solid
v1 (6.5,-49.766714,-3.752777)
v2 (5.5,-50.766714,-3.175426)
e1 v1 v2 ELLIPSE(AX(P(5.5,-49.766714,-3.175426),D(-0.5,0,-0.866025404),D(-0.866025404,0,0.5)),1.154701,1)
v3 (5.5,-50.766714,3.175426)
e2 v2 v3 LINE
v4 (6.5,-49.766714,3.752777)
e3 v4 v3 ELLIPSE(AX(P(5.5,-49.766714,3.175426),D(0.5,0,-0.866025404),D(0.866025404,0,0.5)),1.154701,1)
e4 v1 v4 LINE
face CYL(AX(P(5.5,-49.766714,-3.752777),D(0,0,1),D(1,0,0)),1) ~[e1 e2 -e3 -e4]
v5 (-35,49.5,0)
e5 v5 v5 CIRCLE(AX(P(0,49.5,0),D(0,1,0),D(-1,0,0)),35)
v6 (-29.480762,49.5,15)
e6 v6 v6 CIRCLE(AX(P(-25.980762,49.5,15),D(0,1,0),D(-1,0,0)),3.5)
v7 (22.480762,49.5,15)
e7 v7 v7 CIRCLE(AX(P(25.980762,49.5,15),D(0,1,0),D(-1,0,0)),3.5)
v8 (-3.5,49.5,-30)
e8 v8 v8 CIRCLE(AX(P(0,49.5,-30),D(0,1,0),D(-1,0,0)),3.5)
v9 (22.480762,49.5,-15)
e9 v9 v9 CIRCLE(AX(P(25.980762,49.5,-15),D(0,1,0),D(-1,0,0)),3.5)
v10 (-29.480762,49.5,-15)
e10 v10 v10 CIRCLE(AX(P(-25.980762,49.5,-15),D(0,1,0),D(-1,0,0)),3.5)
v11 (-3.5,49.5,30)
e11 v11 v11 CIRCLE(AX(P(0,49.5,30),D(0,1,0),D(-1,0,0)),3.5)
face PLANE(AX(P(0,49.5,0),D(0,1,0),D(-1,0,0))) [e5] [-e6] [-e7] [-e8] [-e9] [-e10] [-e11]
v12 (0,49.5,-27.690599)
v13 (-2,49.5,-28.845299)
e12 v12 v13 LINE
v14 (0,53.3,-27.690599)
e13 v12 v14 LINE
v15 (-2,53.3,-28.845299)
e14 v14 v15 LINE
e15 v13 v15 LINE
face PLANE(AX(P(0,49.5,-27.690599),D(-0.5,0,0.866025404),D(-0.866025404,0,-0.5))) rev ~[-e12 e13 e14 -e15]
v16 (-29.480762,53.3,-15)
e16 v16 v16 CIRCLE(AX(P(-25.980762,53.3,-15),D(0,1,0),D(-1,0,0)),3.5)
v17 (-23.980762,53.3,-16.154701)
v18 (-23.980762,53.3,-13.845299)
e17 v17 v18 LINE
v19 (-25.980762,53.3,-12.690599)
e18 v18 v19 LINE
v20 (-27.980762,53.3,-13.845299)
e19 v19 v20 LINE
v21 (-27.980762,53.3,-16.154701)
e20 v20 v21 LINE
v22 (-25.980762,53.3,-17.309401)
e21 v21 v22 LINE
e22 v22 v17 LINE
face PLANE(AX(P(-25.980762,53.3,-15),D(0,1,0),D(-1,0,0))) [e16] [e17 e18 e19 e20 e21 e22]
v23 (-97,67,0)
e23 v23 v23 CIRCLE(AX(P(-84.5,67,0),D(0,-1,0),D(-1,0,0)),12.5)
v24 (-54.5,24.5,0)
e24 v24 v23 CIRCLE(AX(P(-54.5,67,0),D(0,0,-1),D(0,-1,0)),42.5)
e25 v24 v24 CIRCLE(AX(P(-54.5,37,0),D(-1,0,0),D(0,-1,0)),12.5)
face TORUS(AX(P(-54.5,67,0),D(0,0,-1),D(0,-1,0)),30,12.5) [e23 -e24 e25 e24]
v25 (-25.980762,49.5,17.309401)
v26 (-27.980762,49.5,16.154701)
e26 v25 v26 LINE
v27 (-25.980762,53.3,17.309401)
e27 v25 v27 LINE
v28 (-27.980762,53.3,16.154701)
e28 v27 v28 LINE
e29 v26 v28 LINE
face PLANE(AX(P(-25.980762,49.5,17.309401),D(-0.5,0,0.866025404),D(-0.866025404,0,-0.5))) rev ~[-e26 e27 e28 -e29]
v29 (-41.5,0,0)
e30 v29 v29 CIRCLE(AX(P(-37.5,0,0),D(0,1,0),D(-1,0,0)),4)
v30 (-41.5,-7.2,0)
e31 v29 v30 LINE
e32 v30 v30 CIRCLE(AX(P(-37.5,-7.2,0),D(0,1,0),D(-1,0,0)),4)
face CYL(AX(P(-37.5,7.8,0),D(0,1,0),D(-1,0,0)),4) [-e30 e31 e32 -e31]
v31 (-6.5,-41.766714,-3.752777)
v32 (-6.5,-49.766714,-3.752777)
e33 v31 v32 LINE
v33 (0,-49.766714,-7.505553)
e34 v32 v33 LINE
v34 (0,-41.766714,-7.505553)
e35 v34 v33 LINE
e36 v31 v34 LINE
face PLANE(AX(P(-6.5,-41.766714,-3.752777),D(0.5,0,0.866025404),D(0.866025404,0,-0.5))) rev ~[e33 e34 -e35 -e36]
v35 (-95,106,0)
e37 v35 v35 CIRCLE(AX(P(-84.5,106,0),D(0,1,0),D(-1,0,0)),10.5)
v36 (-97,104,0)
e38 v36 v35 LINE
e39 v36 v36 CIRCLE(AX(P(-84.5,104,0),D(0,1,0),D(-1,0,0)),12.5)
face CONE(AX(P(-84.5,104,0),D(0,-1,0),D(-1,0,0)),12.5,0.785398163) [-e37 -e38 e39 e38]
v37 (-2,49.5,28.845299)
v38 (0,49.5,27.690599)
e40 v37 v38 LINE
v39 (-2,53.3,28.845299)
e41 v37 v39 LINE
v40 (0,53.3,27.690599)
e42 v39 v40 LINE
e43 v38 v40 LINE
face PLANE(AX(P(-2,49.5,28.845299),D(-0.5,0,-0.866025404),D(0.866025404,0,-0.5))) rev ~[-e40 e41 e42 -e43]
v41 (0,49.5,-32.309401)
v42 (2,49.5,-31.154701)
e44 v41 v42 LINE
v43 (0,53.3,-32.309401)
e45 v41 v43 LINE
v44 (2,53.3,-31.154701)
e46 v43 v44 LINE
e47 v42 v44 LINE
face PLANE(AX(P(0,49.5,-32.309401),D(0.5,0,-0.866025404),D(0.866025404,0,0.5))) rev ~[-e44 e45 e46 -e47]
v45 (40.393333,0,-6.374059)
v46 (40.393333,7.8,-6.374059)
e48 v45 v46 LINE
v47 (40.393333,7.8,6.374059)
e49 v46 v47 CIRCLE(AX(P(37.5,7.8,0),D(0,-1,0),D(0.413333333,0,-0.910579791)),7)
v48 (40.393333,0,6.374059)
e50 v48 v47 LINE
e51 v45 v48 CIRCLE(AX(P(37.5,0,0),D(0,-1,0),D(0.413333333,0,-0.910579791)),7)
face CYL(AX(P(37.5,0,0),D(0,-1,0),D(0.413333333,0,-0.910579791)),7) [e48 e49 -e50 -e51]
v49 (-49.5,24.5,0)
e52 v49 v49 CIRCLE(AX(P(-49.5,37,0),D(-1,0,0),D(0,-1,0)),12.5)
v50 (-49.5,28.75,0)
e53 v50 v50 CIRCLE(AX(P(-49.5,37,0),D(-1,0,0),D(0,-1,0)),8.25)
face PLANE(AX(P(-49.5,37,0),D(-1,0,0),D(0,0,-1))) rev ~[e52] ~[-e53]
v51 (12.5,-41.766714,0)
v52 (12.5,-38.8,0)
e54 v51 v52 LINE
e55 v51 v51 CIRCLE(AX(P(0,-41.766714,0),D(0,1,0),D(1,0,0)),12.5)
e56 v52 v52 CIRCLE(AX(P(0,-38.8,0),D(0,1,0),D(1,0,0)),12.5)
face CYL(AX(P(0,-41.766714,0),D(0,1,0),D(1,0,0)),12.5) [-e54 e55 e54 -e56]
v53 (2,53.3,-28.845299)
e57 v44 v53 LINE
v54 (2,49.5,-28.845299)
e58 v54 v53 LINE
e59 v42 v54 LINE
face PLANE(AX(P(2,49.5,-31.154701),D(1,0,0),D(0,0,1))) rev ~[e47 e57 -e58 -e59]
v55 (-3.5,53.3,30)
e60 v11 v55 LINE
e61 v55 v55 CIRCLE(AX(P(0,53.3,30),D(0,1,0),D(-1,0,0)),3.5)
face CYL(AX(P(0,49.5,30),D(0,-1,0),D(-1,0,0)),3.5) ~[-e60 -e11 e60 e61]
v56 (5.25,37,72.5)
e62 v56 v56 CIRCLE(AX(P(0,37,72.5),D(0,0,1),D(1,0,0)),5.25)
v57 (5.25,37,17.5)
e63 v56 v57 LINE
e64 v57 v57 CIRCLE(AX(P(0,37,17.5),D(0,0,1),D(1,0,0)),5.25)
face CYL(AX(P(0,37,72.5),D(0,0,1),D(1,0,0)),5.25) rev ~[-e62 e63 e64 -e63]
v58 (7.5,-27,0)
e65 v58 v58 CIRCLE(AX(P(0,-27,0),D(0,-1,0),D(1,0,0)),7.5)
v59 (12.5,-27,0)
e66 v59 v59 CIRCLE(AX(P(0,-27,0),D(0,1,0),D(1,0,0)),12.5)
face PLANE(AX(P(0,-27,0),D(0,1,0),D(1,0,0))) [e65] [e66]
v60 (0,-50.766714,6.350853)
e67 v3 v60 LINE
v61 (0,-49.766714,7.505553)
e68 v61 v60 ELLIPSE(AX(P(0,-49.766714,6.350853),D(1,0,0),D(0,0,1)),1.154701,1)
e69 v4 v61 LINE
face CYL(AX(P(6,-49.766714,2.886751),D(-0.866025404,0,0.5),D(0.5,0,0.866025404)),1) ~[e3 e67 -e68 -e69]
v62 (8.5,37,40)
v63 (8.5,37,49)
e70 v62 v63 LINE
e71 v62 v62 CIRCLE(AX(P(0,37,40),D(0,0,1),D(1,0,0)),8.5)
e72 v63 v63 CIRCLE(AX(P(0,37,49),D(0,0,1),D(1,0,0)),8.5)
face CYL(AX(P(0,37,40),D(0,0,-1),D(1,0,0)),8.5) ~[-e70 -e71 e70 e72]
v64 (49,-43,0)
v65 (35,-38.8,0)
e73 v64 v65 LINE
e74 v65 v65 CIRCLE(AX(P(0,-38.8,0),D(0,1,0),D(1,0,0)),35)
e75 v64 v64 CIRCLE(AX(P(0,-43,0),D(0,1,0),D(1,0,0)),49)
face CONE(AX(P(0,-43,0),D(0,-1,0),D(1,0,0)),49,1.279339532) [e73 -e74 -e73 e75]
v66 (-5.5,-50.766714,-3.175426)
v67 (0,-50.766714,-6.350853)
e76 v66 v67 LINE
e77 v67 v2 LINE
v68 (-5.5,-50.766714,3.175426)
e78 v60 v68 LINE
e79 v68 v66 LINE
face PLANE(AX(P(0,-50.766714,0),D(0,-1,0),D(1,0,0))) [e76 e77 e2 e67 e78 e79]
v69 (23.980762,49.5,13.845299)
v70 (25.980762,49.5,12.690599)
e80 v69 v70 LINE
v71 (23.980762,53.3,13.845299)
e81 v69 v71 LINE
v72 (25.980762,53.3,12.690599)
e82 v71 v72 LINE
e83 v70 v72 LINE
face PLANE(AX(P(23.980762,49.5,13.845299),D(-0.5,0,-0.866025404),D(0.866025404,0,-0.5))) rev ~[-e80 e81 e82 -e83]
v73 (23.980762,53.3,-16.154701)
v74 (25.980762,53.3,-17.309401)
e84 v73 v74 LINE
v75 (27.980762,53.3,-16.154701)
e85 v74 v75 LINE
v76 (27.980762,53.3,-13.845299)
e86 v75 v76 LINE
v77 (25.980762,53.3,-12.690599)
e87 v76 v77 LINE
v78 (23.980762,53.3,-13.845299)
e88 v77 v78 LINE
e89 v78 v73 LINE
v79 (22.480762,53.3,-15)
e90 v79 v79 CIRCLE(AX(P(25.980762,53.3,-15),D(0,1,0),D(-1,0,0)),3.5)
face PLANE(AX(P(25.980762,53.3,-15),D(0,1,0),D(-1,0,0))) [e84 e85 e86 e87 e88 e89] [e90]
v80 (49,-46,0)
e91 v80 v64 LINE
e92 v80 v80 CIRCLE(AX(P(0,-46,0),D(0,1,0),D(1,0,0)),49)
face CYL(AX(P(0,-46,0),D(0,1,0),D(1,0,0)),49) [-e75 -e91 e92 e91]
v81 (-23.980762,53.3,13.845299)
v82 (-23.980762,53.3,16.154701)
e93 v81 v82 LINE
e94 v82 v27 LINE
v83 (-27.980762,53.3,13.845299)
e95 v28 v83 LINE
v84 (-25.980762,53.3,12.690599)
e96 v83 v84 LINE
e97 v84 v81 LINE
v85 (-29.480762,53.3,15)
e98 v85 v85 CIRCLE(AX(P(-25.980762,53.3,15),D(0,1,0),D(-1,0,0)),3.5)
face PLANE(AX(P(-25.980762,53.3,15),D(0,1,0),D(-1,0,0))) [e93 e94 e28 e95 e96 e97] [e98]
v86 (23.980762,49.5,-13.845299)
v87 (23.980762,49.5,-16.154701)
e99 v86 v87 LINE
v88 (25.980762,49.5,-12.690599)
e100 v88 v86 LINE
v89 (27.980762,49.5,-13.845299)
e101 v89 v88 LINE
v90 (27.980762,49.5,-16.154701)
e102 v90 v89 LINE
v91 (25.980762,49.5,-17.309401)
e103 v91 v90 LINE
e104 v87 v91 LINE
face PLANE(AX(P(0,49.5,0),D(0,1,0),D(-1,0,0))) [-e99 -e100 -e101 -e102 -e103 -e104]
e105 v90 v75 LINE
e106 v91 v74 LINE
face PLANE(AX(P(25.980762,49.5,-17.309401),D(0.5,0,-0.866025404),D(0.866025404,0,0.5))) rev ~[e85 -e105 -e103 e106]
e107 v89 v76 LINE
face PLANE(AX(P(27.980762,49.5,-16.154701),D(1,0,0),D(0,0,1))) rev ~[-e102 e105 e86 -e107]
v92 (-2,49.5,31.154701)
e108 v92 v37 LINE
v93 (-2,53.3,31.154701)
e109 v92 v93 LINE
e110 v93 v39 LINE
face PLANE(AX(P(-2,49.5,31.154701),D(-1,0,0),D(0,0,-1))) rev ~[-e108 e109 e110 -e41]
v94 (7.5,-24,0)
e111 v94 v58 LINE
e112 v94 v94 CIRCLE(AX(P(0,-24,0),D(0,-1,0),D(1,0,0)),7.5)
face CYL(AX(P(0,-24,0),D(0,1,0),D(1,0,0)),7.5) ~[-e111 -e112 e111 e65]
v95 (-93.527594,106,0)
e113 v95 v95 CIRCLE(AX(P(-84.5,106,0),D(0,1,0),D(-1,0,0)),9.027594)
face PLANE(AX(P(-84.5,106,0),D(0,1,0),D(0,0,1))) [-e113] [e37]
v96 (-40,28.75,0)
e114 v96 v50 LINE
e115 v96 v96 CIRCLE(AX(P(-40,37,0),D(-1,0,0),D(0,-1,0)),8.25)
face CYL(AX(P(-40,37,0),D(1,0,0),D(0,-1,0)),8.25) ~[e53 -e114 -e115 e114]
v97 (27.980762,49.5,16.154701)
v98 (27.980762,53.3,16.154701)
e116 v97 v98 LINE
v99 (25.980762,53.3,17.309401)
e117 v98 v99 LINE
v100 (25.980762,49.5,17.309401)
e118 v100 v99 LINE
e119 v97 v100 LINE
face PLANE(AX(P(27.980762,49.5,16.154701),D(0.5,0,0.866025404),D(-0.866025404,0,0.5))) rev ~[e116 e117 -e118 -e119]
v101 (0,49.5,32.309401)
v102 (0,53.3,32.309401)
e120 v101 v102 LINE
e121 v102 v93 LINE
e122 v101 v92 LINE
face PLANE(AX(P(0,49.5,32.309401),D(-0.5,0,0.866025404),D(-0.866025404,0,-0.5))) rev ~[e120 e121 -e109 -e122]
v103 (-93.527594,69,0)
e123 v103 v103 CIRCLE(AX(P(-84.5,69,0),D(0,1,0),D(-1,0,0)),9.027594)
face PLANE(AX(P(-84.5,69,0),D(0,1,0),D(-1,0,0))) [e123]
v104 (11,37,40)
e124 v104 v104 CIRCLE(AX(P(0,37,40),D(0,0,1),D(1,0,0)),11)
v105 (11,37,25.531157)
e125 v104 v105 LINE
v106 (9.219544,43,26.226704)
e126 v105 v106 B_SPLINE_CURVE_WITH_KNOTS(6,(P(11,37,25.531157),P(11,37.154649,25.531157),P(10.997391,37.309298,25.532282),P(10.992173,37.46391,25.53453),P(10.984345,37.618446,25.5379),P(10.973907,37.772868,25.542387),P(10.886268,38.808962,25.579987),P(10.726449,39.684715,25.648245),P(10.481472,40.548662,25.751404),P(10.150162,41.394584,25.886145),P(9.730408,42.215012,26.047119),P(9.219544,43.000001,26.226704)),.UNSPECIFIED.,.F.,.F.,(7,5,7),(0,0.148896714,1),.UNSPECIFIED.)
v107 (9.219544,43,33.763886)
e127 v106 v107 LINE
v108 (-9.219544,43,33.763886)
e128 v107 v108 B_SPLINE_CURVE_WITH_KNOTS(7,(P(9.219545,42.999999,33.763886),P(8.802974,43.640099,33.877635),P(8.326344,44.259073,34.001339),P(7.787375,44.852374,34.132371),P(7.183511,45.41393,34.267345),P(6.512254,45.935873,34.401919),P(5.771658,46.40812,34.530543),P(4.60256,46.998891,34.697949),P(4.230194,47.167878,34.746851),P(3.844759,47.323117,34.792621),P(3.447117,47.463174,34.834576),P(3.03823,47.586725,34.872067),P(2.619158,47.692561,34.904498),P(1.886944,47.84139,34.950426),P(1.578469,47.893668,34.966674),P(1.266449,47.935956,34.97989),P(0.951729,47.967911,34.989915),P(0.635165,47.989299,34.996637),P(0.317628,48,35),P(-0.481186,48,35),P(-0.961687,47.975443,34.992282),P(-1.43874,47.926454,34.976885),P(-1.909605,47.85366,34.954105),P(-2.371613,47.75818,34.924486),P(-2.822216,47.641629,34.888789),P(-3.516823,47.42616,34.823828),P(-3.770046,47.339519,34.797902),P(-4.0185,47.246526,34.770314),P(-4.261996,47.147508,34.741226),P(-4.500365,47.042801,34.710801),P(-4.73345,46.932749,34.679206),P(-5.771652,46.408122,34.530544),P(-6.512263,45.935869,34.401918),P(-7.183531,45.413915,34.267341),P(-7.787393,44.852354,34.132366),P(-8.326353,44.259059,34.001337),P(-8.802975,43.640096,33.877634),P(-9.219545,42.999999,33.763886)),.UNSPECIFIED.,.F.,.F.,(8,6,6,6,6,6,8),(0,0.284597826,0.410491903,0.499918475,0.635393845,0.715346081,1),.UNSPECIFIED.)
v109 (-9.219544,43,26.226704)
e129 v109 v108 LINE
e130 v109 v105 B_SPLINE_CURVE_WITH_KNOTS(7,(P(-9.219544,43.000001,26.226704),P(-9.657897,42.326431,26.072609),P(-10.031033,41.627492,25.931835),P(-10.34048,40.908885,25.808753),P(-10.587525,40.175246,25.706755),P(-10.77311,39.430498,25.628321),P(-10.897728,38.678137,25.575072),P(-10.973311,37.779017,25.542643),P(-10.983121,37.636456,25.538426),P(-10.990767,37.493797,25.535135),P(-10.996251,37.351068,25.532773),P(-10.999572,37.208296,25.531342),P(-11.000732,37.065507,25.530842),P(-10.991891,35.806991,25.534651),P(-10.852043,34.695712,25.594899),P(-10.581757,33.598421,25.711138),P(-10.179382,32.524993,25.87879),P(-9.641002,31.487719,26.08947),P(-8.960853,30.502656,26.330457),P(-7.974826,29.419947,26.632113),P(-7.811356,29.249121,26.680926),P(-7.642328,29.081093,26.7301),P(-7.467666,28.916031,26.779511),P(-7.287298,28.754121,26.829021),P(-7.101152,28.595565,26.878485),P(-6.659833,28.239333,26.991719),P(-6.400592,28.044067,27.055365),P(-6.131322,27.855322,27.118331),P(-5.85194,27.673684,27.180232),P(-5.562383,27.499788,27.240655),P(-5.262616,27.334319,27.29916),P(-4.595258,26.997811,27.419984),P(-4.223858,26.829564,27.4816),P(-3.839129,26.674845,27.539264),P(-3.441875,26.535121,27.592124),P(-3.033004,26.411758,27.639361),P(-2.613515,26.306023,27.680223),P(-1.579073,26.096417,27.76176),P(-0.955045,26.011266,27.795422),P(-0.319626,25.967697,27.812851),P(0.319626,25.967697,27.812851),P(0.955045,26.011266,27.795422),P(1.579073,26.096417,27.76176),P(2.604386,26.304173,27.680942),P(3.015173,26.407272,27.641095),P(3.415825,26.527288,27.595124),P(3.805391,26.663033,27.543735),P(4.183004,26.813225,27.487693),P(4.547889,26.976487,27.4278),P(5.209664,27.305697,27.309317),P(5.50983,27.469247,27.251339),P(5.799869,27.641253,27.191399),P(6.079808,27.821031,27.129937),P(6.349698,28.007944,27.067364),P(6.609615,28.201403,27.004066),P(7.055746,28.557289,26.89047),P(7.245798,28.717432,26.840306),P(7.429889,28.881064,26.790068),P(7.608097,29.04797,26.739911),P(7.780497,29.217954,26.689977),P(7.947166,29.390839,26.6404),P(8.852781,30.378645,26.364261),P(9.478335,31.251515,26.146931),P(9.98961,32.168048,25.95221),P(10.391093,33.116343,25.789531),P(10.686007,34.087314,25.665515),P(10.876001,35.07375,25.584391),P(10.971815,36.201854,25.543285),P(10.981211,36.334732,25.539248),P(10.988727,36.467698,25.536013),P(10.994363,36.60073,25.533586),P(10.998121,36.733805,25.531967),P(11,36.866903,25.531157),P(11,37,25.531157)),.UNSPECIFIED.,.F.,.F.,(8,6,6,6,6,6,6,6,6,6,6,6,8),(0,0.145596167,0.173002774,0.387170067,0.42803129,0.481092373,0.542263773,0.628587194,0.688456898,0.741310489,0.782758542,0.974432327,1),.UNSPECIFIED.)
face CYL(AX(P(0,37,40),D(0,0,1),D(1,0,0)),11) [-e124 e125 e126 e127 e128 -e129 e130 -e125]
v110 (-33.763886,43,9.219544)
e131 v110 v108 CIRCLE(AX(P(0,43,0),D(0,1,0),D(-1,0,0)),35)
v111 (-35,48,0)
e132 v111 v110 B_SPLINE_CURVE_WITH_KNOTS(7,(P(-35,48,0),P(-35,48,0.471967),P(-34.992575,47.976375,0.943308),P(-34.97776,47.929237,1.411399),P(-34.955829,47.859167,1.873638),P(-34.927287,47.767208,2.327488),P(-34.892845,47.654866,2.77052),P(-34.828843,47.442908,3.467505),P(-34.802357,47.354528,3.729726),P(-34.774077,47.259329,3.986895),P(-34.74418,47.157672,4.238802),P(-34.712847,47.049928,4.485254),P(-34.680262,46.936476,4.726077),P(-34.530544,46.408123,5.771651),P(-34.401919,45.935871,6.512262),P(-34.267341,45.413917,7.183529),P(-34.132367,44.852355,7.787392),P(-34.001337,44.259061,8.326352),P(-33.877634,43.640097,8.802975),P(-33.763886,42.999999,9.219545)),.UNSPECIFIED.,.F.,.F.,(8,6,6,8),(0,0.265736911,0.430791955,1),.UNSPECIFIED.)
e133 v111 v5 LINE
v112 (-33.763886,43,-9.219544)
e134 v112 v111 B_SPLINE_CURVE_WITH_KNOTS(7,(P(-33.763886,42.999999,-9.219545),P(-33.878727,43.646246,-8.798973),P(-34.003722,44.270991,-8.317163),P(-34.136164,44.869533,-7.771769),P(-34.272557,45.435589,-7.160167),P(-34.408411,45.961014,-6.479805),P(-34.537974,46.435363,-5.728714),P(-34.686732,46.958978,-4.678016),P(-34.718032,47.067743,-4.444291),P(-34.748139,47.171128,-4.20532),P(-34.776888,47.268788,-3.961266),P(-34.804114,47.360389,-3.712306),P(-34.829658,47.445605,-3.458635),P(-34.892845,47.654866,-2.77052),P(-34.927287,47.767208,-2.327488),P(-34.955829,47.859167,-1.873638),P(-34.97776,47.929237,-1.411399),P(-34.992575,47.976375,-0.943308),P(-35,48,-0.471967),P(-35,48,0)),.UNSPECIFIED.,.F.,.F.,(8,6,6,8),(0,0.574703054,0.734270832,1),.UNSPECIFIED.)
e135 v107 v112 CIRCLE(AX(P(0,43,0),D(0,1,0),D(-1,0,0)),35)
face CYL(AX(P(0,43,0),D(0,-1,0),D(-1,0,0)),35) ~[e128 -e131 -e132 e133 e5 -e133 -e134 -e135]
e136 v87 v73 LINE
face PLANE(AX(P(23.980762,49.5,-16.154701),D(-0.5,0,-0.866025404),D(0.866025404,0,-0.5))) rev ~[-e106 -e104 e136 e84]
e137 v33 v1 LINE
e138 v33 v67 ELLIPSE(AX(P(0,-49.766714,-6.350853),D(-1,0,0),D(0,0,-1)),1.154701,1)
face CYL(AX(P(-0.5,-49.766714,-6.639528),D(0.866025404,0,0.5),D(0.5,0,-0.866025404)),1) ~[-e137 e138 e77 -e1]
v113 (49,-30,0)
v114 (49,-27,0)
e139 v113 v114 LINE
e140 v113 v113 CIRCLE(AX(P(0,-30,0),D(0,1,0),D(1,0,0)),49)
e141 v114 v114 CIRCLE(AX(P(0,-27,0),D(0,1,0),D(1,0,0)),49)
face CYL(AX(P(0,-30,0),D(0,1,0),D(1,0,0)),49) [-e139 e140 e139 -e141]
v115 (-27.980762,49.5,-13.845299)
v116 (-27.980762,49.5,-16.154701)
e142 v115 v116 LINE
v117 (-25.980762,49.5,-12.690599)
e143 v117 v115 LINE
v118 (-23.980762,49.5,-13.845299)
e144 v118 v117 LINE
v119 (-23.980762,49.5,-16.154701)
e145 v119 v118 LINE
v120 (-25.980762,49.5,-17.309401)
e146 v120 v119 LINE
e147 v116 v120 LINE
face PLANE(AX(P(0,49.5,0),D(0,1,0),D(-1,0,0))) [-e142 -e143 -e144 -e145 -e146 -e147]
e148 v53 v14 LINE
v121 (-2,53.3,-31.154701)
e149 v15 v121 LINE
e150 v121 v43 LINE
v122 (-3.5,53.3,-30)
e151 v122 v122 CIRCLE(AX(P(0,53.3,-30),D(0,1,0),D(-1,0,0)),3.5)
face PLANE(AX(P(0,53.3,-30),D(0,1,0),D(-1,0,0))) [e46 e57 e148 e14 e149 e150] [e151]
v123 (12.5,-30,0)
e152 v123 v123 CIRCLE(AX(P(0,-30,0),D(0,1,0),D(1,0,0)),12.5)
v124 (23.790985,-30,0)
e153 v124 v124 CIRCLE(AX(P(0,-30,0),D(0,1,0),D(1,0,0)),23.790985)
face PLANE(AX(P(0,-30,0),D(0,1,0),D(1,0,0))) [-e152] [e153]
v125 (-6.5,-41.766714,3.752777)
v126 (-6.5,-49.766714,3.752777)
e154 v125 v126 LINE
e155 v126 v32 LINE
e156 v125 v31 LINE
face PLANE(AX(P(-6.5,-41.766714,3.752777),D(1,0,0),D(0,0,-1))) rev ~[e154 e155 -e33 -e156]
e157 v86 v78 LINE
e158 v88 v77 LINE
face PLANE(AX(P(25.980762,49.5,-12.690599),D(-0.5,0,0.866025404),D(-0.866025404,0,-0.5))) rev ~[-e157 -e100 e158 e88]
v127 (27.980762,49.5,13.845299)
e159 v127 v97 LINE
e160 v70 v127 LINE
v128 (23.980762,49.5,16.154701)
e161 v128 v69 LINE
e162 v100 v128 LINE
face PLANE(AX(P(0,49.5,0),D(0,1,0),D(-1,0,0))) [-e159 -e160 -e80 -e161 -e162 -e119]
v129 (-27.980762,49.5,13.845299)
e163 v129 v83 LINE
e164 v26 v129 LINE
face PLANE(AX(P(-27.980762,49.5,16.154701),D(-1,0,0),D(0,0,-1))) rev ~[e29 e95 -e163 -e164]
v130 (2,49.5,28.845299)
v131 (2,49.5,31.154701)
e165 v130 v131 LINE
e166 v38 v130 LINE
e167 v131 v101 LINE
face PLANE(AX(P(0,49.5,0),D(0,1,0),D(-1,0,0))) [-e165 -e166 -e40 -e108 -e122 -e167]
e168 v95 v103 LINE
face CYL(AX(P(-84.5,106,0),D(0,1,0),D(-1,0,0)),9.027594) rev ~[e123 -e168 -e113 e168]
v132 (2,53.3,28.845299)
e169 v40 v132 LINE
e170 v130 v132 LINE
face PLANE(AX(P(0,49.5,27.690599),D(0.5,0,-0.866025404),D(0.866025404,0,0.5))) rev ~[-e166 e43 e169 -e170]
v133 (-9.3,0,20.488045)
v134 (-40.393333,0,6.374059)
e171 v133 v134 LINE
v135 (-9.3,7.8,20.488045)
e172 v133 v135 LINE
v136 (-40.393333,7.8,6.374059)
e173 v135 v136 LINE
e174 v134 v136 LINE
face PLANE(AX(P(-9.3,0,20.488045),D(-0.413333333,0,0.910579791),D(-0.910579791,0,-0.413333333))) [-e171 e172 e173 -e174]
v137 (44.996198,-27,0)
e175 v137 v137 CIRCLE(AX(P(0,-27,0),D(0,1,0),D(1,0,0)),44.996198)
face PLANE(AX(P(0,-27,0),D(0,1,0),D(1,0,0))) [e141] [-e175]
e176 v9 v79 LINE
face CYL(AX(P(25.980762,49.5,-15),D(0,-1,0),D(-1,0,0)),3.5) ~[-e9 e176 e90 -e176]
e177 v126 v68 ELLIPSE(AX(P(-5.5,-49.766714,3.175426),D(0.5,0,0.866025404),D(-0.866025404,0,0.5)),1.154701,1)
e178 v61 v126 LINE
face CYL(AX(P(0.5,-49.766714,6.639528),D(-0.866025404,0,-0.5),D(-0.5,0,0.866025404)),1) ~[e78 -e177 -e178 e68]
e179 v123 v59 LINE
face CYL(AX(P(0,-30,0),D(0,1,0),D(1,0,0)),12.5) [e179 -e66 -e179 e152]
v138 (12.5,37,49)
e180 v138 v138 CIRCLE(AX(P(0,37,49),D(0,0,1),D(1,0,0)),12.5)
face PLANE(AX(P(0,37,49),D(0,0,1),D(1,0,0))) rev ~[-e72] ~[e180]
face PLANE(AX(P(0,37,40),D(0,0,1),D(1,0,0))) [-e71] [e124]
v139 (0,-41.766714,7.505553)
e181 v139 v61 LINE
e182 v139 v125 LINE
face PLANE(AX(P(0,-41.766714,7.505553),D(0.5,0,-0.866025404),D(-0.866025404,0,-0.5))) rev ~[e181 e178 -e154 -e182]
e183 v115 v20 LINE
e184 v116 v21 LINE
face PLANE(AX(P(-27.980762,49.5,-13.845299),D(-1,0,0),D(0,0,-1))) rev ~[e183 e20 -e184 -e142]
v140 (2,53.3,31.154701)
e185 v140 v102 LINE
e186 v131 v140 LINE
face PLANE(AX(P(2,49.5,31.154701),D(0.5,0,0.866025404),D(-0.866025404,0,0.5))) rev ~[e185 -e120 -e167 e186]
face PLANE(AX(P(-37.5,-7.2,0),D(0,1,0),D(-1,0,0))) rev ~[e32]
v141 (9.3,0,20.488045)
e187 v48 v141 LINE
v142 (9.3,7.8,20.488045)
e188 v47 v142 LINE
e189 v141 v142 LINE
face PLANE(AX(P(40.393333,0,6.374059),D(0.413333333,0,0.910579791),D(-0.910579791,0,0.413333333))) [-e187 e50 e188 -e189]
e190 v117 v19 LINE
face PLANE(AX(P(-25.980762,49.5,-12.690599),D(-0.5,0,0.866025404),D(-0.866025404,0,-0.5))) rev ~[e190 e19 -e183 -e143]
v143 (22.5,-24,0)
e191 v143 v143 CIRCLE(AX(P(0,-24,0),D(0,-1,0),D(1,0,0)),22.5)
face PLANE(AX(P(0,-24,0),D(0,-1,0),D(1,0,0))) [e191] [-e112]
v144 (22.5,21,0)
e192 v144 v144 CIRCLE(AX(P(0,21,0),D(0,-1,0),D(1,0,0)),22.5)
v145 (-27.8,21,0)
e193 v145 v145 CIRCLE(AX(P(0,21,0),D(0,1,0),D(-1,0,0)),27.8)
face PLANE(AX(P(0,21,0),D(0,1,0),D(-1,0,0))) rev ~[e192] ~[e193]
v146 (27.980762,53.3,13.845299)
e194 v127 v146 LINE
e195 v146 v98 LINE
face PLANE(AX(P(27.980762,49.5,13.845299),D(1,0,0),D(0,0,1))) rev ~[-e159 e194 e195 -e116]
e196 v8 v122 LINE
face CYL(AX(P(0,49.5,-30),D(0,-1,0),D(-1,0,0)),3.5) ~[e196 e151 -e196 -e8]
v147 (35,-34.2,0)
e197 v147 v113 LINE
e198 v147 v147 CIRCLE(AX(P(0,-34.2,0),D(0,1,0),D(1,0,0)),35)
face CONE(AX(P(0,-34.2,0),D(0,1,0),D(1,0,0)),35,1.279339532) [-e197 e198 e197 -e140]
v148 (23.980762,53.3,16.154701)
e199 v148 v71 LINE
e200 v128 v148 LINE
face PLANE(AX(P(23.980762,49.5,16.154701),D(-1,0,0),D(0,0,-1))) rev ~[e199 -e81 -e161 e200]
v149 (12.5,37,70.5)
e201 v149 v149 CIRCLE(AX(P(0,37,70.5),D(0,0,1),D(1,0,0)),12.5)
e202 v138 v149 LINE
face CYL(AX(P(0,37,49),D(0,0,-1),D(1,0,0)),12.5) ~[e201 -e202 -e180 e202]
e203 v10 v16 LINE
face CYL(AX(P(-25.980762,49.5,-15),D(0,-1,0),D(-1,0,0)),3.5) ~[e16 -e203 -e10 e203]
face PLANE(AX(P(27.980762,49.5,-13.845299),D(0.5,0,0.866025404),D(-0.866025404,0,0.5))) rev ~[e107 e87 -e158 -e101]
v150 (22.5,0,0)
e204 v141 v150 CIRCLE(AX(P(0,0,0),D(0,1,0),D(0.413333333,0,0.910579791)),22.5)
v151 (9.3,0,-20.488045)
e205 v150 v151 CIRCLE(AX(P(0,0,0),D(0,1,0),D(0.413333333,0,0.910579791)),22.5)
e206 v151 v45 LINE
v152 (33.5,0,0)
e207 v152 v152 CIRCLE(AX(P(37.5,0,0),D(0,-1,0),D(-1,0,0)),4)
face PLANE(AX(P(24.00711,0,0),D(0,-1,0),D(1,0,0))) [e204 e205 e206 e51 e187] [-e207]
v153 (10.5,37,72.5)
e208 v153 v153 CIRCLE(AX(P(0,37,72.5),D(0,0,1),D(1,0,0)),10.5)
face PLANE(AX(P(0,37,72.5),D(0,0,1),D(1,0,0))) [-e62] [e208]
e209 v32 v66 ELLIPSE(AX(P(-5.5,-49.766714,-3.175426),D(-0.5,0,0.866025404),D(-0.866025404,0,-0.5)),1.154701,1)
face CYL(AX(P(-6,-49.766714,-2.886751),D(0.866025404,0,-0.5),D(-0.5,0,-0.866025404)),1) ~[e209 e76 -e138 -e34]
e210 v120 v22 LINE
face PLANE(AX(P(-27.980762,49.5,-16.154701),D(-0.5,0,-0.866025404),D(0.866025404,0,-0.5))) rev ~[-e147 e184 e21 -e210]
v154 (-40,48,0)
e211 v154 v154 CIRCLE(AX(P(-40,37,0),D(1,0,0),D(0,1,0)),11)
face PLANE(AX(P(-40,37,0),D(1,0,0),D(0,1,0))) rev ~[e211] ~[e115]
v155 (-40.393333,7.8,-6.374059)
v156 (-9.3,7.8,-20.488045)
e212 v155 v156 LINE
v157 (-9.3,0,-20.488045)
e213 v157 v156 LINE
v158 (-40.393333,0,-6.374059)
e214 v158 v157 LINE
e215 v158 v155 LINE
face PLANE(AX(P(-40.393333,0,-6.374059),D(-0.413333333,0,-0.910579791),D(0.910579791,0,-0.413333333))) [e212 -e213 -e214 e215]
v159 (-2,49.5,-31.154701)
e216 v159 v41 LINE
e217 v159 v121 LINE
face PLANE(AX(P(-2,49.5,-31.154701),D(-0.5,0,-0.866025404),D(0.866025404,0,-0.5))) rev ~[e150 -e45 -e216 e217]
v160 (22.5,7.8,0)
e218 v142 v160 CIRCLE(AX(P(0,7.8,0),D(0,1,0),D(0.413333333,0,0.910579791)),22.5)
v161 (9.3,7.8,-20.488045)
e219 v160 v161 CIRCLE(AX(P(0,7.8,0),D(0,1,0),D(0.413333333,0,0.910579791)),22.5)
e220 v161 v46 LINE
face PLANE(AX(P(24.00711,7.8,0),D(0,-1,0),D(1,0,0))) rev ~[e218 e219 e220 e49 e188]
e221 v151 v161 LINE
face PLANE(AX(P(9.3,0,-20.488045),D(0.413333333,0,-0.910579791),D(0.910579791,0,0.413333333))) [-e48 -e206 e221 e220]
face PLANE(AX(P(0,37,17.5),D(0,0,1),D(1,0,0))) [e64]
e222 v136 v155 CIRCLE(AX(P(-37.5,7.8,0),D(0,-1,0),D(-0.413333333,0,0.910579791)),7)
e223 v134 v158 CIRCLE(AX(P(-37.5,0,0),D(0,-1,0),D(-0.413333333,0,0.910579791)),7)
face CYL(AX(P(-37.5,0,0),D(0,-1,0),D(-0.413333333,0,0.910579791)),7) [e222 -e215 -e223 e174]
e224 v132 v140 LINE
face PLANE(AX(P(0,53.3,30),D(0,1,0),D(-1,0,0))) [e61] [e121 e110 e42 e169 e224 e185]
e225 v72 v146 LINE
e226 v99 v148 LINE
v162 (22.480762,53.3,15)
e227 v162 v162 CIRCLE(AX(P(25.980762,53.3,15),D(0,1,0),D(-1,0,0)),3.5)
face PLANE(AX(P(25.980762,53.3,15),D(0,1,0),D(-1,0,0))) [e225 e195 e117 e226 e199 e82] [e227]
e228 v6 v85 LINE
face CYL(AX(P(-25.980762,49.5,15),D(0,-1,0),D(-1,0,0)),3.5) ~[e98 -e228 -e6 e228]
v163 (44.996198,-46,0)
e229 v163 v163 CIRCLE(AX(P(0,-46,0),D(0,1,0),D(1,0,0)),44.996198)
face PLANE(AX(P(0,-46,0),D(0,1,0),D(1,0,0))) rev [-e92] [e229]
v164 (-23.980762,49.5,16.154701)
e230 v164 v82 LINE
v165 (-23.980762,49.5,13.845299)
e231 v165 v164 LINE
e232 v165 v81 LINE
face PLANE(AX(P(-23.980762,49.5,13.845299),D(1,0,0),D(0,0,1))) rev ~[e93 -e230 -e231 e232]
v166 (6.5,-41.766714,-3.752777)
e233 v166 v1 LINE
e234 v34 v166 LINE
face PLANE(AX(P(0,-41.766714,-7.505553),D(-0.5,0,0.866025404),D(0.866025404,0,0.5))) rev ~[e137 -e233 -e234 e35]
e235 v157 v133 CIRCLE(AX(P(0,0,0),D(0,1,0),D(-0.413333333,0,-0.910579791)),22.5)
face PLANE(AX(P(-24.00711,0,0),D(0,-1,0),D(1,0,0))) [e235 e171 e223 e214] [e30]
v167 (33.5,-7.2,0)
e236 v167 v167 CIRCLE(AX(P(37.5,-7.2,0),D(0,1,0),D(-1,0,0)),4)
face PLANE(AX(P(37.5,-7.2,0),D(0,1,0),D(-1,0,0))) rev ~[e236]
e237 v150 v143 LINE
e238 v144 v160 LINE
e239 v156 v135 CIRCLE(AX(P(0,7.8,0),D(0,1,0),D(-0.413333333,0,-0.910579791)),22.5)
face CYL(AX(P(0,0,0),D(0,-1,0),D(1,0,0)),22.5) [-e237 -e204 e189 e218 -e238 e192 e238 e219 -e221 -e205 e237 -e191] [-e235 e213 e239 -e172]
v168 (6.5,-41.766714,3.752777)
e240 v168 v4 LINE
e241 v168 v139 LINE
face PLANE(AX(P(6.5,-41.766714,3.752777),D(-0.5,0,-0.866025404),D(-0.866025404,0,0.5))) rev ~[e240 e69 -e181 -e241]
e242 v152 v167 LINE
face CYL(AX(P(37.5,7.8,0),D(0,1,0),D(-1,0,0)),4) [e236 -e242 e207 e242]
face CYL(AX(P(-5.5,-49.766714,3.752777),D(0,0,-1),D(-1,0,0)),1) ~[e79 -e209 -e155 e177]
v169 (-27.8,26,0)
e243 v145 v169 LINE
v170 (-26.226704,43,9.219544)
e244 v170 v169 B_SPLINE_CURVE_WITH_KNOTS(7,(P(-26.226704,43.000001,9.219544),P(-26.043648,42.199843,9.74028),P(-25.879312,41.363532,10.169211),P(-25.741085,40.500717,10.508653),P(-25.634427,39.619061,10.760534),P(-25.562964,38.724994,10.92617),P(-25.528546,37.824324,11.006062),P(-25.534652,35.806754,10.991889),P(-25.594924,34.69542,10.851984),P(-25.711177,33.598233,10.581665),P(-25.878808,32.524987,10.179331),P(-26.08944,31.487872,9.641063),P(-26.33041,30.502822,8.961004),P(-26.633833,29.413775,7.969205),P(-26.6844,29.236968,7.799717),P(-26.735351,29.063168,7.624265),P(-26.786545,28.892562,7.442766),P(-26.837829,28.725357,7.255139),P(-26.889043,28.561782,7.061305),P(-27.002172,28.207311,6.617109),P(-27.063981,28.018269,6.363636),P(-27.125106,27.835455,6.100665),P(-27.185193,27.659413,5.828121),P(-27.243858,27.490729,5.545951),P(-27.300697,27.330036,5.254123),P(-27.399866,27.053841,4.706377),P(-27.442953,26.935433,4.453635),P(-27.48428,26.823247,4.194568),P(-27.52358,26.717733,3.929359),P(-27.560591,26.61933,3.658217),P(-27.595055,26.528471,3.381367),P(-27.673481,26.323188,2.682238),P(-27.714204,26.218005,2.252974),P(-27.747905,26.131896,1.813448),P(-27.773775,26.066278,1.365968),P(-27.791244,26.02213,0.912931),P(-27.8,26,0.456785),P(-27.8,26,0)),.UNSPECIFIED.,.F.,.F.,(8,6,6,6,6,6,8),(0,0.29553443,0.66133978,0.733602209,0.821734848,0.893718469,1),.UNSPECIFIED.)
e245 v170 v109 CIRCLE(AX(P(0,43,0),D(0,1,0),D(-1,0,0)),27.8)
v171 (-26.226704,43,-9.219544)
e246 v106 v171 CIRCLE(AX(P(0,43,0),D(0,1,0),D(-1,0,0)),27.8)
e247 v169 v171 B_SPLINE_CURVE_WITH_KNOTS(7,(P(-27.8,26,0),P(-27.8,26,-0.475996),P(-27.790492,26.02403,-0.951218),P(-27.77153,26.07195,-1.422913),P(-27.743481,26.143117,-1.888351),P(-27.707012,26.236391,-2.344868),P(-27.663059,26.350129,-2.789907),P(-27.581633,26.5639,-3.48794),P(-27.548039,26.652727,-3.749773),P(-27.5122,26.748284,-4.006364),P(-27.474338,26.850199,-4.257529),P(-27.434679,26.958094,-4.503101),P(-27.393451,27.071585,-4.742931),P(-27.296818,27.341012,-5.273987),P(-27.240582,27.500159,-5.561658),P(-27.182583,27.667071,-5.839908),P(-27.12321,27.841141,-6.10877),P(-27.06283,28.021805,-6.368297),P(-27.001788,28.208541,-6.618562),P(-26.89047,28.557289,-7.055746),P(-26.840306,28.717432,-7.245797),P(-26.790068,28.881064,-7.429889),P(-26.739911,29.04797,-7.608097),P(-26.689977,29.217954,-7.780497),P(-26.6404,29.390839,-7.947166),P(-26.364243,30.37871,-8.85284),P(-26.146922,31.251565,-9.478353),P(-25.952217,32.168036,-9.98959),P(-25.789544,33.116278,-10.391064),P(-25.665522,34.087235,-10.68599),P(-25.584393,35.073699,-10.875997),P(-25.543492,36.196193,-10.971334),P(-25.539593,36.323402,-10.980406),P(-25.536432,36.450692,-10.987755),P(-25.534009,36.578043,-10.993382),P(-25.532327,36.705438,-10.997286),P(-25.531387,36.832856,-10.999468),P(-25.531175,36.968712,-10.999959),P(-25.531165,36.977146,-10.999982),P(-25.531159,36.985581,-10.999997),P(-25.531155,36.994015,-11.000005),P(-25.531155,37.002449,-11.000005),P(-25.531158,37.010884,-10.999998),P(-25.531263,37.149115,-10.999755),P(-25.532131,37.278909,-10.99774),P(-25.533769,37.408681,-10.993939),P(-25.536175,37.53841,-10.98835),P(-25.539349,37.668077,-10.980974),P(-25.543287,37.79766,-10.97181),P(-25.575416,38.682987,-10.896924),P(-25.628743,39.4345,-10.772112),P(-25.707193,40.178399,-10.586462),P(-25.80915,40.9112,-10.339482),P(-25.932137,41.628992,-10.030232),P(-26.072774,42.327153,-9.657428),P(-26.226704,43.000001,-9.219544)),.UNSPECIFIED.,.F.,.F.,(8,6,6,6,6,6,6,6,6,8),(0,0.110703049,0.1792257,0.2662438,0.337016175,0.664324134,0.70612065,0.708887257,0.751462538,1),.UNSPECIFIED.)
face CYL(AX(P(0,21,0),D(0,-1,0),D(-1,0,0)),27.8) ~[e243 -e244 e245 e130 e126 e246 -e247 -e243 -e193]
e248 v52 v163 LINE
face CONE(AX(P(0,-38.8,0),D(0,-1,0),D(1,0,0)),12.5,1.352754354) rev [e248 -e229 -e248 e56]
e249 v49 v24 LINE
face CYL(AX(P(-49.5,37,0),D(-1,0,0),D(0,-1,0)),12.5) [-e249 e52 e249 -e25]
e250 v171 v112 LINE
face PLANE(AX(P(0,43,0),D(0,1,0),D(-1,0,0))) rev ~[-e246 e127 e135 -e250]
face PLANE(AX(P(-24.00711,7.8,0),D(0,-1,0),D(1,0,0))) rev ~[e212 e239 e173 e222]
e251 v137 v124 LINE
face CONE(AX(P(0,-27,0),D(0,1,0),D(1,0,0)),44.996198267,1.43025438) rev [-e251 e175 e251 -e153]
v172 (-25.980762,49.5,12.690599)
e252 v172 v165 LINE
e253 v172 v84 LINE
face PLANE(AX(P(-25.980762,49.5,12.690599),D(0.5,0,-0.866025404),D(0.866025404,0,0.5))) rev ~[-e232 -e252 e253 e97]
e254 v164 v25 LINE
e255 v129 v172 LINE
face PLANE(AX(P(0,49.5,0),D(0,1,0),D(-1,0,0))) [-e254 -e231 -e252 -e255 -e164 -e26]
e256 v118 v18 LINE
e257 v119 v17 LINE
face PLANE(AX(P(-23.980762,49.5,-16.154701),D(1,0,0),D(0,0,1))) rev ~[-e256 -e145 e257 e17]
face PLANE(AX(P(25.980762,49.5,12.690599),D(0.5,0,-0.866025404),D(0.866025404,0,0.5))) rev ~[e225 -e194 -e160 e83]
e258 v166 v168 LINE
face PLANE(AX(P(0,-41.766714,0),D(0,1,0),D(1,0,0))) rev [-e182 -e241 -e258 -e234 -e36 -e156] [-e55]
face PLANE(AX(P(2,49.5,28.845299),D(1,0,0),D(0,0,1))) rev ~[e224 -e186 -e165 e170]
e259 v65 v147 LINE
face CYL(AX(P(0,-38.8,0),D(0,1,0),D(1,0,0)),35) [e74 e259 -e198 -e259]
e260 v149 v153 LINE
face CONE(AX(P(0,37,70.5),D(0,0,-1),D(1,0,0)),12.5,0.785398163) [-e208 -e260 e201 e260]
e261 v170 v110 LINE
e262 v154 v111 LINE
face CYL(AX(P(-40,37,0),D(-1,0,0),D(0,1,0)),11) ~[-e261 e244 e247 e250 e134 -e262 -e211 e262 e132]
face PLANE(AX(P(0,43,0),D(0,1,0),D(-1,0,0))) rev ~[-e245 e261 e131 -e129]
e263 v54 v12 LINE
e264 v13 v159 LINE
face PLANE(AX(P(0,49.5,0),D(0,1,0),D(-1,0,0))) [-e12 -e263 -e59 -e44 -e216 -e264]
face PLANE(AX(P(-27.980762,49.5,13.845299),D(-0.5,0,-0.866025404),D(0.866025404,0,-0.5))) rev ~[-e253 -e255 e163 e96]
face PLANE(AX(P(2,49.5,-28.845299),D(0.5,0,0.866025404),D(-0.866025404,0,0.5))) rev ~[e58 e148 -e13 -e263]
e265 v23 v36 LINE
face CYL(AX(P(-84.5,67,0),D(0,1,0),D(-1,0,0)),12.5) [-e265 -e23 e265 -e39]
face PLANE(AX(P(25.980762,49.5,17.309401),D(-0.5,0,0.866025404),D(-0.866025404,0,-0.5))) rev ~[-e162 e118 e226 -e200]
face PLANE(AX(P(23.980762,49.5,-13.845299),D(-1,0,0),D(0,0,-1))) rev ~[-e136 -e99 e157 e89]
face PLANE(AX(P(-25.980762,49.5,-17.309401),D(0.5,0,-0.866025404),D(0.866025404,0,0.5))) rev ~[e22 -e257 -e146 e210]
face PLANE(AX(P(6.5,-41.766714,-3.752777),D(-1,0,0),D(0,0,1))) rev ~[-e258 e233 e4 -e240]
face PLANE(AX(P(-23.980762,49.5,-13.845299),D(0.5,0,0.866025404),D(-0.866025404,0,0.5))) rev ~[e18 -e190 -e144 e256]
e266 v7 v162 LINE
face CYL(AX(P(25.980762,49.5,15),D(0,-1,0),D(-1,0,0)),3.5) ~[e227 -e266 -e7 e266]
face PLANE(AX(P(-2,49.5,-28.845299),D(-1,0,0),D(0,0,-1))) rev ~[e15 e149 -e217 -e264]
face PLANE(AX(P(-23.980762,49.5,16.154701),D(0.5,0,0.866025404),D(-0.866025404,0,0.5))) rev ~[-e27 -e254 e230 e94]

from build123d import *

# Parameters (mm, degrees)
F0_R      = 22.5
F1_DEPTH  = 24
F2_DEPTH  = 21
F3_R      = 4
F4_DEPTH  = 7.8
F5_R      = 7.5
F6_DEPTH  = 3
F10_DEPTH = 9
F11_R     = 1
F12_R     = 27.8
F13_DEPTH = 22
F14_R     = 35
F15_DEPTH = 6.5
F16_R     = 3.5
F17_DEPTH = 3.8
F19_R     = 11
F20_DEPTH = 25
F22_R     = 11
F23_DEPTH = 25
F24_R     = 8.5
F25_DEPTH = 9
F26_R     = 12.5
F27_DEPTH = 23.5
F28_SIZE  = 2
F29_R     = 5.25
F30_DEPTH = 55
F31_R     = 8.25
F32_DEPTH = 9.5
F33_R     = 12.5
F36_SIZE  = 2
F37_R     = 9.0275939992
F38_DEPTH = 37
F39_R     = 4
F40_DEPTH = 15


with BuildPart() as f1:
    # F0 (on Front) → F1 (new body)
    with BuildSketch(Plane.XZ):
        Circle(F0_R)
    extrude(amount=F1_DEPTH)

    # F0 (on Front) → F2 (join)
    with BuildSketch(Plane.XZ):
        Circle(F0_R)
    extrude(amount=-F2_DEPTH)

    # F3 (on Front) → F4 (join)
    with BuildSketch(Plane.XZ):
        with BuildLine():
            Line((-9.3, 20.4880452948), (-40.3933333333, 6.3740585361))
            ThreePointArc((-40.3933333333, 6.3740585361), (-44.5, 0), (-40.3933333333, -6.3740585361))
            Line((-40.3933333333, -6.3740585361), (-9.3, -20.4880452948))
            ThreePointArc((-9.3, -20.4880452948), (-22.5, 0), (-9.3, 20.4880452948))
        make_face()
        with Locations((-37.5, 0)):
            Circle(F3_R, mode=Mode.SUBTRACT)
        with BuildLine():
            Line((9.3, -20.4880452948), (40.3933333333, -6.3740585361))
            ThreePointArc((40.3933333333, -6.3740585361), (44.5, 0), (40.3933333333, 6.3740585361))
            Line((40.3933333333, 6.3740585361), (9.3, 20.4880452948))
            ThreePointArc((9.3, 20.4880452948), (22.5, 0), (9.3, -20.4880452948))
        make_face()
        with Locations((37.5, 0)):
            Circle(F3_R, mode=Mode.SUBTRACT)
    extrude(amount=-F4_DEPTH)

    # F5 (on face) → F6 (join)
    with BuildSketch(Plane.XZ.offset(24)):
        Circle(F5_R)
    extrude(amount=F6_DEPTH)

    # F7 (on Top) → F8 (revolve)
    with BuildSketch(Plane.XY):
        Polygon((12.5, -27), (7.5, -27), (0, -27), (0, -38.8), (0, -41.7667143047), (12.5, -41.7667143047), (12.5, -38.8), (44.9961982667, -46), (49, -46), (49, -43), (35, -38.8), (35, -34.2), (49, -30), (49, -27), (44.9961982667, -27), (23.7909853458, -30), (12.5, -30), align=None)
    revolve(axis=Axis((0, -32.9, 0), (0, 1, 0)))

    # F9 (on face) → F10 (join)
    with BuildSketch(Plane.XZ.offset(41.7667143047)):
        Polygon((6.5, -3.7527767497), (6.5, 3.7527767497), (0, 7.5055534995), (-6.5, 3.7527767497), (-6.5, -3.7527767497), (0, -7.5055534995), align=None)
    extrude(amount=F10_DEPTH)

    # F11
    f11_edges = [f1.edges().sort_by_distance(p)[0] for p in [
        (6.5, -50.766714, 0),
        (3.25, -50.766714, 5.629165),
        (-3.25, -50.766714, 5.629165),
        (-6.5, -50.766714, 0),
        (-3.25, -50.766714, -5.629165),
        (3.25, -50.766714, -5.629165),
    ]]
    fillet(f11_edges, radius=F11_R)

    # F12 (on face) → F13 (join)
    with BuildSketch(Plane(origin=(0, 21, 0), x_dir=(-1, 0, 0), z_dir=(0, 1, 0))):
        Circle(F12_R)
    extrude(amount=F13_DEPTH)

    # F14 (on face) → F15 (join)
    with BuildSketch(Plane(origin=(0, 43, 0), x_dir=(-1, 0, 0), z_dir=(0, 1, 0))):
        Circle(F14_R)
    extrude(amount=F15_DEPTH)

    # F16 (on face) → F17 (join)
    with BuildSketch(Plane(origin=(0, 49.5, 0), x_dir=(-1, 0, 0), z_dir=(0, 1, 0))):
        with Locations((0, 30)):
            Circle(F16_R)
        Polygon((0, 32.3094010768), (2, 31.1547005384), (2, 28.8452994616), (0, 27.6905989232), (-2, 28.8452994616), (-2, 31.1547005384), align=None, mode=Mode.SUBTRACT)
        with Locations((-25.9807621135, 15)):
            Circle(F16_R)
        Polygon((-27.9807621135, 16.1547005384), (-25.9807621135, 17.3094010768), (-23.9807621135, 16.1547005384), (-23.9807621135, 13.8452994616), (-25.9807621135, 12.6905989232), (-27.9807621135, 13.8452994616), align=None, mode=Mode.SUBTRACT)
        with Locations((-25.9807621135, -15)):
            Circle(F16_R)
        Polygon((-27.9807621135, -16.1547005384), (-27.9807621135, -13.8452994616), (-25.9807621135, -12.6905989232), (-23.9807621135, -13.8452994616), (-23.9807621135, -16.1547005384), (-25.9807621135, -17.3094010768), align=None, mode=Mode.SUBTRACT)
        with Locations((0, -30)):
            Circle(F16_R)
        Polygon((0, -32.3094010768), (-2, -31.1547005384), (-2, -28.8452994616), (0, -27.6905989232), (2, -28.8452994616), (2, -31.1547005384), align=None, mode=Mode.SUBTRACT)
        with Locations((25.9807621135, -15)):
            Circle(F16_R)
        Polygon((27.9807621135, -16.1547005384), (25.9807621135, -17.3094010768), (23.9807621135, -16.1547005384), (23.9807621135, -13.8452994616), (25.9807621135, -12.6905989232), (27.9807621135, -13.8452994616), align=None, mode=Mode.SUBTRACT)
        with Locations((25.9807621135, 15)):
            Circle(F16_R)
        Polygon((27.9807621135, 16.1547005384), (27.9807621135, 13.8452994616), (25.9807621135, 12.6905989232), (23.9807621135, 13.8452994616), (23.9807621135, 16.1547005384), (25.9807621135, 17.3094010768), align=None, mode=Mode.SUBTRACT)
    extrude(amount=F17_DEPTH)

    # F19 (on offset) → F20 (join)
    with BuildSketch(Plane.YZ.offset(-40)):
        with Locations((37, 0)):
            Circle(F19_R)
    extrude(amount=F20_DEPTH)

    # F22 (on offset) → F23 (join)
    with BuildSketch(Plane.XY.offset(40)):
        with Locations((0, 37)):
            Circle(F22_R)
    extrude(amount=-F23_DEPTH)

    # F24 (on face) → F25 (join)
    with BuildSketch(Plane.XY.offset(40)):
        with Locations((0, 37)):
            Circle(F24_R)
    extrude(amount=F25_DEPTH)

    # F26 (on face) → F27 (join)
    with BuildSketch(Plane.XY.offset(49)):
        with Locations((0, 37)):
            Circle(F26_R)
    extrude(amount=F27_DEPTH)

    # F28
    f28_edges = [f1.edges().sort_by_distance(p)[0] for p in [
        (-12.5, 37, 72.5),
    ]]
    chamfer(f28_edges, length=F28_SIZE)

    # F29 (on face) → F30 (cut)
    with BuildSketch(Plane.XY.offset(72.5)):
        with Locations((0, 37)):
            Circle(F29_R)
    extrude(amount=-F30_DEPTH, mode=Mode.SUBTRACT)

    # F31 (on face) → F32 (join)
    with BuildSketch(Plane(origin=(-40, 0, 0), x_dir=(0, -1, 0), z_dir=(-1, 0, 0))):
        with Locations((-37, 0)):
            Circle(F31_R)
    extrude(amount=F32_DEPTH)

    # F35: sweep along a path in F34
    with BuildLine(Plane.XY) as f35_path:
        Line((-49.5, 37), (-54.5, 37))
        ThreePointArc((-54.5, 37), (-75.7132034356, 45.7867965644), (-84.5, 67))
        Line((-84.5, 67), (-84.5, 106))
    # F33 (on face) → F35 (sweep)
    with BuildSketch(Plane(origin=(-49.5, 0, 0), x_dir=(0, -1, 0), z_dir=(-1, 0, 0))):
        with Locations((-37, 0)):
            Circle(F33_R)
    sweep(path=f35_path.line)

    # F36
    f36_edges = [f1.edges().sort_by_distance(p)[0] for p in [
        (-72, 106, 0),
    ]]
    chamfer(f36_edges, length=F36_SIZE)

    # F37 (on face) → F38 (cut)
    with BuildSketch(Plane(origin=(0, 106, 0), x_dir=(-1, 0, 0), z_dir=(0, 1, 0))):
        with Locations((84.5, 0)):
            Circle(F37_R)
    extrude(amount=-F38_DEPTH, mode=Mode.SUBTRACT)

    # F39 (on face) → F40 (join)
    with BuildSketch(Plane(origin=(0, 7.8, 0), x_dir=(-1, 0, 0), z_dir=(0, 1, 0))):
        with Locations((-37.5, 0)):
            Circle(F39_R)
        with Locations((37.5, 0)):
            Circle(F39_R)
    extrude(amount=-F40_DEPTH)


solid = f1.part
